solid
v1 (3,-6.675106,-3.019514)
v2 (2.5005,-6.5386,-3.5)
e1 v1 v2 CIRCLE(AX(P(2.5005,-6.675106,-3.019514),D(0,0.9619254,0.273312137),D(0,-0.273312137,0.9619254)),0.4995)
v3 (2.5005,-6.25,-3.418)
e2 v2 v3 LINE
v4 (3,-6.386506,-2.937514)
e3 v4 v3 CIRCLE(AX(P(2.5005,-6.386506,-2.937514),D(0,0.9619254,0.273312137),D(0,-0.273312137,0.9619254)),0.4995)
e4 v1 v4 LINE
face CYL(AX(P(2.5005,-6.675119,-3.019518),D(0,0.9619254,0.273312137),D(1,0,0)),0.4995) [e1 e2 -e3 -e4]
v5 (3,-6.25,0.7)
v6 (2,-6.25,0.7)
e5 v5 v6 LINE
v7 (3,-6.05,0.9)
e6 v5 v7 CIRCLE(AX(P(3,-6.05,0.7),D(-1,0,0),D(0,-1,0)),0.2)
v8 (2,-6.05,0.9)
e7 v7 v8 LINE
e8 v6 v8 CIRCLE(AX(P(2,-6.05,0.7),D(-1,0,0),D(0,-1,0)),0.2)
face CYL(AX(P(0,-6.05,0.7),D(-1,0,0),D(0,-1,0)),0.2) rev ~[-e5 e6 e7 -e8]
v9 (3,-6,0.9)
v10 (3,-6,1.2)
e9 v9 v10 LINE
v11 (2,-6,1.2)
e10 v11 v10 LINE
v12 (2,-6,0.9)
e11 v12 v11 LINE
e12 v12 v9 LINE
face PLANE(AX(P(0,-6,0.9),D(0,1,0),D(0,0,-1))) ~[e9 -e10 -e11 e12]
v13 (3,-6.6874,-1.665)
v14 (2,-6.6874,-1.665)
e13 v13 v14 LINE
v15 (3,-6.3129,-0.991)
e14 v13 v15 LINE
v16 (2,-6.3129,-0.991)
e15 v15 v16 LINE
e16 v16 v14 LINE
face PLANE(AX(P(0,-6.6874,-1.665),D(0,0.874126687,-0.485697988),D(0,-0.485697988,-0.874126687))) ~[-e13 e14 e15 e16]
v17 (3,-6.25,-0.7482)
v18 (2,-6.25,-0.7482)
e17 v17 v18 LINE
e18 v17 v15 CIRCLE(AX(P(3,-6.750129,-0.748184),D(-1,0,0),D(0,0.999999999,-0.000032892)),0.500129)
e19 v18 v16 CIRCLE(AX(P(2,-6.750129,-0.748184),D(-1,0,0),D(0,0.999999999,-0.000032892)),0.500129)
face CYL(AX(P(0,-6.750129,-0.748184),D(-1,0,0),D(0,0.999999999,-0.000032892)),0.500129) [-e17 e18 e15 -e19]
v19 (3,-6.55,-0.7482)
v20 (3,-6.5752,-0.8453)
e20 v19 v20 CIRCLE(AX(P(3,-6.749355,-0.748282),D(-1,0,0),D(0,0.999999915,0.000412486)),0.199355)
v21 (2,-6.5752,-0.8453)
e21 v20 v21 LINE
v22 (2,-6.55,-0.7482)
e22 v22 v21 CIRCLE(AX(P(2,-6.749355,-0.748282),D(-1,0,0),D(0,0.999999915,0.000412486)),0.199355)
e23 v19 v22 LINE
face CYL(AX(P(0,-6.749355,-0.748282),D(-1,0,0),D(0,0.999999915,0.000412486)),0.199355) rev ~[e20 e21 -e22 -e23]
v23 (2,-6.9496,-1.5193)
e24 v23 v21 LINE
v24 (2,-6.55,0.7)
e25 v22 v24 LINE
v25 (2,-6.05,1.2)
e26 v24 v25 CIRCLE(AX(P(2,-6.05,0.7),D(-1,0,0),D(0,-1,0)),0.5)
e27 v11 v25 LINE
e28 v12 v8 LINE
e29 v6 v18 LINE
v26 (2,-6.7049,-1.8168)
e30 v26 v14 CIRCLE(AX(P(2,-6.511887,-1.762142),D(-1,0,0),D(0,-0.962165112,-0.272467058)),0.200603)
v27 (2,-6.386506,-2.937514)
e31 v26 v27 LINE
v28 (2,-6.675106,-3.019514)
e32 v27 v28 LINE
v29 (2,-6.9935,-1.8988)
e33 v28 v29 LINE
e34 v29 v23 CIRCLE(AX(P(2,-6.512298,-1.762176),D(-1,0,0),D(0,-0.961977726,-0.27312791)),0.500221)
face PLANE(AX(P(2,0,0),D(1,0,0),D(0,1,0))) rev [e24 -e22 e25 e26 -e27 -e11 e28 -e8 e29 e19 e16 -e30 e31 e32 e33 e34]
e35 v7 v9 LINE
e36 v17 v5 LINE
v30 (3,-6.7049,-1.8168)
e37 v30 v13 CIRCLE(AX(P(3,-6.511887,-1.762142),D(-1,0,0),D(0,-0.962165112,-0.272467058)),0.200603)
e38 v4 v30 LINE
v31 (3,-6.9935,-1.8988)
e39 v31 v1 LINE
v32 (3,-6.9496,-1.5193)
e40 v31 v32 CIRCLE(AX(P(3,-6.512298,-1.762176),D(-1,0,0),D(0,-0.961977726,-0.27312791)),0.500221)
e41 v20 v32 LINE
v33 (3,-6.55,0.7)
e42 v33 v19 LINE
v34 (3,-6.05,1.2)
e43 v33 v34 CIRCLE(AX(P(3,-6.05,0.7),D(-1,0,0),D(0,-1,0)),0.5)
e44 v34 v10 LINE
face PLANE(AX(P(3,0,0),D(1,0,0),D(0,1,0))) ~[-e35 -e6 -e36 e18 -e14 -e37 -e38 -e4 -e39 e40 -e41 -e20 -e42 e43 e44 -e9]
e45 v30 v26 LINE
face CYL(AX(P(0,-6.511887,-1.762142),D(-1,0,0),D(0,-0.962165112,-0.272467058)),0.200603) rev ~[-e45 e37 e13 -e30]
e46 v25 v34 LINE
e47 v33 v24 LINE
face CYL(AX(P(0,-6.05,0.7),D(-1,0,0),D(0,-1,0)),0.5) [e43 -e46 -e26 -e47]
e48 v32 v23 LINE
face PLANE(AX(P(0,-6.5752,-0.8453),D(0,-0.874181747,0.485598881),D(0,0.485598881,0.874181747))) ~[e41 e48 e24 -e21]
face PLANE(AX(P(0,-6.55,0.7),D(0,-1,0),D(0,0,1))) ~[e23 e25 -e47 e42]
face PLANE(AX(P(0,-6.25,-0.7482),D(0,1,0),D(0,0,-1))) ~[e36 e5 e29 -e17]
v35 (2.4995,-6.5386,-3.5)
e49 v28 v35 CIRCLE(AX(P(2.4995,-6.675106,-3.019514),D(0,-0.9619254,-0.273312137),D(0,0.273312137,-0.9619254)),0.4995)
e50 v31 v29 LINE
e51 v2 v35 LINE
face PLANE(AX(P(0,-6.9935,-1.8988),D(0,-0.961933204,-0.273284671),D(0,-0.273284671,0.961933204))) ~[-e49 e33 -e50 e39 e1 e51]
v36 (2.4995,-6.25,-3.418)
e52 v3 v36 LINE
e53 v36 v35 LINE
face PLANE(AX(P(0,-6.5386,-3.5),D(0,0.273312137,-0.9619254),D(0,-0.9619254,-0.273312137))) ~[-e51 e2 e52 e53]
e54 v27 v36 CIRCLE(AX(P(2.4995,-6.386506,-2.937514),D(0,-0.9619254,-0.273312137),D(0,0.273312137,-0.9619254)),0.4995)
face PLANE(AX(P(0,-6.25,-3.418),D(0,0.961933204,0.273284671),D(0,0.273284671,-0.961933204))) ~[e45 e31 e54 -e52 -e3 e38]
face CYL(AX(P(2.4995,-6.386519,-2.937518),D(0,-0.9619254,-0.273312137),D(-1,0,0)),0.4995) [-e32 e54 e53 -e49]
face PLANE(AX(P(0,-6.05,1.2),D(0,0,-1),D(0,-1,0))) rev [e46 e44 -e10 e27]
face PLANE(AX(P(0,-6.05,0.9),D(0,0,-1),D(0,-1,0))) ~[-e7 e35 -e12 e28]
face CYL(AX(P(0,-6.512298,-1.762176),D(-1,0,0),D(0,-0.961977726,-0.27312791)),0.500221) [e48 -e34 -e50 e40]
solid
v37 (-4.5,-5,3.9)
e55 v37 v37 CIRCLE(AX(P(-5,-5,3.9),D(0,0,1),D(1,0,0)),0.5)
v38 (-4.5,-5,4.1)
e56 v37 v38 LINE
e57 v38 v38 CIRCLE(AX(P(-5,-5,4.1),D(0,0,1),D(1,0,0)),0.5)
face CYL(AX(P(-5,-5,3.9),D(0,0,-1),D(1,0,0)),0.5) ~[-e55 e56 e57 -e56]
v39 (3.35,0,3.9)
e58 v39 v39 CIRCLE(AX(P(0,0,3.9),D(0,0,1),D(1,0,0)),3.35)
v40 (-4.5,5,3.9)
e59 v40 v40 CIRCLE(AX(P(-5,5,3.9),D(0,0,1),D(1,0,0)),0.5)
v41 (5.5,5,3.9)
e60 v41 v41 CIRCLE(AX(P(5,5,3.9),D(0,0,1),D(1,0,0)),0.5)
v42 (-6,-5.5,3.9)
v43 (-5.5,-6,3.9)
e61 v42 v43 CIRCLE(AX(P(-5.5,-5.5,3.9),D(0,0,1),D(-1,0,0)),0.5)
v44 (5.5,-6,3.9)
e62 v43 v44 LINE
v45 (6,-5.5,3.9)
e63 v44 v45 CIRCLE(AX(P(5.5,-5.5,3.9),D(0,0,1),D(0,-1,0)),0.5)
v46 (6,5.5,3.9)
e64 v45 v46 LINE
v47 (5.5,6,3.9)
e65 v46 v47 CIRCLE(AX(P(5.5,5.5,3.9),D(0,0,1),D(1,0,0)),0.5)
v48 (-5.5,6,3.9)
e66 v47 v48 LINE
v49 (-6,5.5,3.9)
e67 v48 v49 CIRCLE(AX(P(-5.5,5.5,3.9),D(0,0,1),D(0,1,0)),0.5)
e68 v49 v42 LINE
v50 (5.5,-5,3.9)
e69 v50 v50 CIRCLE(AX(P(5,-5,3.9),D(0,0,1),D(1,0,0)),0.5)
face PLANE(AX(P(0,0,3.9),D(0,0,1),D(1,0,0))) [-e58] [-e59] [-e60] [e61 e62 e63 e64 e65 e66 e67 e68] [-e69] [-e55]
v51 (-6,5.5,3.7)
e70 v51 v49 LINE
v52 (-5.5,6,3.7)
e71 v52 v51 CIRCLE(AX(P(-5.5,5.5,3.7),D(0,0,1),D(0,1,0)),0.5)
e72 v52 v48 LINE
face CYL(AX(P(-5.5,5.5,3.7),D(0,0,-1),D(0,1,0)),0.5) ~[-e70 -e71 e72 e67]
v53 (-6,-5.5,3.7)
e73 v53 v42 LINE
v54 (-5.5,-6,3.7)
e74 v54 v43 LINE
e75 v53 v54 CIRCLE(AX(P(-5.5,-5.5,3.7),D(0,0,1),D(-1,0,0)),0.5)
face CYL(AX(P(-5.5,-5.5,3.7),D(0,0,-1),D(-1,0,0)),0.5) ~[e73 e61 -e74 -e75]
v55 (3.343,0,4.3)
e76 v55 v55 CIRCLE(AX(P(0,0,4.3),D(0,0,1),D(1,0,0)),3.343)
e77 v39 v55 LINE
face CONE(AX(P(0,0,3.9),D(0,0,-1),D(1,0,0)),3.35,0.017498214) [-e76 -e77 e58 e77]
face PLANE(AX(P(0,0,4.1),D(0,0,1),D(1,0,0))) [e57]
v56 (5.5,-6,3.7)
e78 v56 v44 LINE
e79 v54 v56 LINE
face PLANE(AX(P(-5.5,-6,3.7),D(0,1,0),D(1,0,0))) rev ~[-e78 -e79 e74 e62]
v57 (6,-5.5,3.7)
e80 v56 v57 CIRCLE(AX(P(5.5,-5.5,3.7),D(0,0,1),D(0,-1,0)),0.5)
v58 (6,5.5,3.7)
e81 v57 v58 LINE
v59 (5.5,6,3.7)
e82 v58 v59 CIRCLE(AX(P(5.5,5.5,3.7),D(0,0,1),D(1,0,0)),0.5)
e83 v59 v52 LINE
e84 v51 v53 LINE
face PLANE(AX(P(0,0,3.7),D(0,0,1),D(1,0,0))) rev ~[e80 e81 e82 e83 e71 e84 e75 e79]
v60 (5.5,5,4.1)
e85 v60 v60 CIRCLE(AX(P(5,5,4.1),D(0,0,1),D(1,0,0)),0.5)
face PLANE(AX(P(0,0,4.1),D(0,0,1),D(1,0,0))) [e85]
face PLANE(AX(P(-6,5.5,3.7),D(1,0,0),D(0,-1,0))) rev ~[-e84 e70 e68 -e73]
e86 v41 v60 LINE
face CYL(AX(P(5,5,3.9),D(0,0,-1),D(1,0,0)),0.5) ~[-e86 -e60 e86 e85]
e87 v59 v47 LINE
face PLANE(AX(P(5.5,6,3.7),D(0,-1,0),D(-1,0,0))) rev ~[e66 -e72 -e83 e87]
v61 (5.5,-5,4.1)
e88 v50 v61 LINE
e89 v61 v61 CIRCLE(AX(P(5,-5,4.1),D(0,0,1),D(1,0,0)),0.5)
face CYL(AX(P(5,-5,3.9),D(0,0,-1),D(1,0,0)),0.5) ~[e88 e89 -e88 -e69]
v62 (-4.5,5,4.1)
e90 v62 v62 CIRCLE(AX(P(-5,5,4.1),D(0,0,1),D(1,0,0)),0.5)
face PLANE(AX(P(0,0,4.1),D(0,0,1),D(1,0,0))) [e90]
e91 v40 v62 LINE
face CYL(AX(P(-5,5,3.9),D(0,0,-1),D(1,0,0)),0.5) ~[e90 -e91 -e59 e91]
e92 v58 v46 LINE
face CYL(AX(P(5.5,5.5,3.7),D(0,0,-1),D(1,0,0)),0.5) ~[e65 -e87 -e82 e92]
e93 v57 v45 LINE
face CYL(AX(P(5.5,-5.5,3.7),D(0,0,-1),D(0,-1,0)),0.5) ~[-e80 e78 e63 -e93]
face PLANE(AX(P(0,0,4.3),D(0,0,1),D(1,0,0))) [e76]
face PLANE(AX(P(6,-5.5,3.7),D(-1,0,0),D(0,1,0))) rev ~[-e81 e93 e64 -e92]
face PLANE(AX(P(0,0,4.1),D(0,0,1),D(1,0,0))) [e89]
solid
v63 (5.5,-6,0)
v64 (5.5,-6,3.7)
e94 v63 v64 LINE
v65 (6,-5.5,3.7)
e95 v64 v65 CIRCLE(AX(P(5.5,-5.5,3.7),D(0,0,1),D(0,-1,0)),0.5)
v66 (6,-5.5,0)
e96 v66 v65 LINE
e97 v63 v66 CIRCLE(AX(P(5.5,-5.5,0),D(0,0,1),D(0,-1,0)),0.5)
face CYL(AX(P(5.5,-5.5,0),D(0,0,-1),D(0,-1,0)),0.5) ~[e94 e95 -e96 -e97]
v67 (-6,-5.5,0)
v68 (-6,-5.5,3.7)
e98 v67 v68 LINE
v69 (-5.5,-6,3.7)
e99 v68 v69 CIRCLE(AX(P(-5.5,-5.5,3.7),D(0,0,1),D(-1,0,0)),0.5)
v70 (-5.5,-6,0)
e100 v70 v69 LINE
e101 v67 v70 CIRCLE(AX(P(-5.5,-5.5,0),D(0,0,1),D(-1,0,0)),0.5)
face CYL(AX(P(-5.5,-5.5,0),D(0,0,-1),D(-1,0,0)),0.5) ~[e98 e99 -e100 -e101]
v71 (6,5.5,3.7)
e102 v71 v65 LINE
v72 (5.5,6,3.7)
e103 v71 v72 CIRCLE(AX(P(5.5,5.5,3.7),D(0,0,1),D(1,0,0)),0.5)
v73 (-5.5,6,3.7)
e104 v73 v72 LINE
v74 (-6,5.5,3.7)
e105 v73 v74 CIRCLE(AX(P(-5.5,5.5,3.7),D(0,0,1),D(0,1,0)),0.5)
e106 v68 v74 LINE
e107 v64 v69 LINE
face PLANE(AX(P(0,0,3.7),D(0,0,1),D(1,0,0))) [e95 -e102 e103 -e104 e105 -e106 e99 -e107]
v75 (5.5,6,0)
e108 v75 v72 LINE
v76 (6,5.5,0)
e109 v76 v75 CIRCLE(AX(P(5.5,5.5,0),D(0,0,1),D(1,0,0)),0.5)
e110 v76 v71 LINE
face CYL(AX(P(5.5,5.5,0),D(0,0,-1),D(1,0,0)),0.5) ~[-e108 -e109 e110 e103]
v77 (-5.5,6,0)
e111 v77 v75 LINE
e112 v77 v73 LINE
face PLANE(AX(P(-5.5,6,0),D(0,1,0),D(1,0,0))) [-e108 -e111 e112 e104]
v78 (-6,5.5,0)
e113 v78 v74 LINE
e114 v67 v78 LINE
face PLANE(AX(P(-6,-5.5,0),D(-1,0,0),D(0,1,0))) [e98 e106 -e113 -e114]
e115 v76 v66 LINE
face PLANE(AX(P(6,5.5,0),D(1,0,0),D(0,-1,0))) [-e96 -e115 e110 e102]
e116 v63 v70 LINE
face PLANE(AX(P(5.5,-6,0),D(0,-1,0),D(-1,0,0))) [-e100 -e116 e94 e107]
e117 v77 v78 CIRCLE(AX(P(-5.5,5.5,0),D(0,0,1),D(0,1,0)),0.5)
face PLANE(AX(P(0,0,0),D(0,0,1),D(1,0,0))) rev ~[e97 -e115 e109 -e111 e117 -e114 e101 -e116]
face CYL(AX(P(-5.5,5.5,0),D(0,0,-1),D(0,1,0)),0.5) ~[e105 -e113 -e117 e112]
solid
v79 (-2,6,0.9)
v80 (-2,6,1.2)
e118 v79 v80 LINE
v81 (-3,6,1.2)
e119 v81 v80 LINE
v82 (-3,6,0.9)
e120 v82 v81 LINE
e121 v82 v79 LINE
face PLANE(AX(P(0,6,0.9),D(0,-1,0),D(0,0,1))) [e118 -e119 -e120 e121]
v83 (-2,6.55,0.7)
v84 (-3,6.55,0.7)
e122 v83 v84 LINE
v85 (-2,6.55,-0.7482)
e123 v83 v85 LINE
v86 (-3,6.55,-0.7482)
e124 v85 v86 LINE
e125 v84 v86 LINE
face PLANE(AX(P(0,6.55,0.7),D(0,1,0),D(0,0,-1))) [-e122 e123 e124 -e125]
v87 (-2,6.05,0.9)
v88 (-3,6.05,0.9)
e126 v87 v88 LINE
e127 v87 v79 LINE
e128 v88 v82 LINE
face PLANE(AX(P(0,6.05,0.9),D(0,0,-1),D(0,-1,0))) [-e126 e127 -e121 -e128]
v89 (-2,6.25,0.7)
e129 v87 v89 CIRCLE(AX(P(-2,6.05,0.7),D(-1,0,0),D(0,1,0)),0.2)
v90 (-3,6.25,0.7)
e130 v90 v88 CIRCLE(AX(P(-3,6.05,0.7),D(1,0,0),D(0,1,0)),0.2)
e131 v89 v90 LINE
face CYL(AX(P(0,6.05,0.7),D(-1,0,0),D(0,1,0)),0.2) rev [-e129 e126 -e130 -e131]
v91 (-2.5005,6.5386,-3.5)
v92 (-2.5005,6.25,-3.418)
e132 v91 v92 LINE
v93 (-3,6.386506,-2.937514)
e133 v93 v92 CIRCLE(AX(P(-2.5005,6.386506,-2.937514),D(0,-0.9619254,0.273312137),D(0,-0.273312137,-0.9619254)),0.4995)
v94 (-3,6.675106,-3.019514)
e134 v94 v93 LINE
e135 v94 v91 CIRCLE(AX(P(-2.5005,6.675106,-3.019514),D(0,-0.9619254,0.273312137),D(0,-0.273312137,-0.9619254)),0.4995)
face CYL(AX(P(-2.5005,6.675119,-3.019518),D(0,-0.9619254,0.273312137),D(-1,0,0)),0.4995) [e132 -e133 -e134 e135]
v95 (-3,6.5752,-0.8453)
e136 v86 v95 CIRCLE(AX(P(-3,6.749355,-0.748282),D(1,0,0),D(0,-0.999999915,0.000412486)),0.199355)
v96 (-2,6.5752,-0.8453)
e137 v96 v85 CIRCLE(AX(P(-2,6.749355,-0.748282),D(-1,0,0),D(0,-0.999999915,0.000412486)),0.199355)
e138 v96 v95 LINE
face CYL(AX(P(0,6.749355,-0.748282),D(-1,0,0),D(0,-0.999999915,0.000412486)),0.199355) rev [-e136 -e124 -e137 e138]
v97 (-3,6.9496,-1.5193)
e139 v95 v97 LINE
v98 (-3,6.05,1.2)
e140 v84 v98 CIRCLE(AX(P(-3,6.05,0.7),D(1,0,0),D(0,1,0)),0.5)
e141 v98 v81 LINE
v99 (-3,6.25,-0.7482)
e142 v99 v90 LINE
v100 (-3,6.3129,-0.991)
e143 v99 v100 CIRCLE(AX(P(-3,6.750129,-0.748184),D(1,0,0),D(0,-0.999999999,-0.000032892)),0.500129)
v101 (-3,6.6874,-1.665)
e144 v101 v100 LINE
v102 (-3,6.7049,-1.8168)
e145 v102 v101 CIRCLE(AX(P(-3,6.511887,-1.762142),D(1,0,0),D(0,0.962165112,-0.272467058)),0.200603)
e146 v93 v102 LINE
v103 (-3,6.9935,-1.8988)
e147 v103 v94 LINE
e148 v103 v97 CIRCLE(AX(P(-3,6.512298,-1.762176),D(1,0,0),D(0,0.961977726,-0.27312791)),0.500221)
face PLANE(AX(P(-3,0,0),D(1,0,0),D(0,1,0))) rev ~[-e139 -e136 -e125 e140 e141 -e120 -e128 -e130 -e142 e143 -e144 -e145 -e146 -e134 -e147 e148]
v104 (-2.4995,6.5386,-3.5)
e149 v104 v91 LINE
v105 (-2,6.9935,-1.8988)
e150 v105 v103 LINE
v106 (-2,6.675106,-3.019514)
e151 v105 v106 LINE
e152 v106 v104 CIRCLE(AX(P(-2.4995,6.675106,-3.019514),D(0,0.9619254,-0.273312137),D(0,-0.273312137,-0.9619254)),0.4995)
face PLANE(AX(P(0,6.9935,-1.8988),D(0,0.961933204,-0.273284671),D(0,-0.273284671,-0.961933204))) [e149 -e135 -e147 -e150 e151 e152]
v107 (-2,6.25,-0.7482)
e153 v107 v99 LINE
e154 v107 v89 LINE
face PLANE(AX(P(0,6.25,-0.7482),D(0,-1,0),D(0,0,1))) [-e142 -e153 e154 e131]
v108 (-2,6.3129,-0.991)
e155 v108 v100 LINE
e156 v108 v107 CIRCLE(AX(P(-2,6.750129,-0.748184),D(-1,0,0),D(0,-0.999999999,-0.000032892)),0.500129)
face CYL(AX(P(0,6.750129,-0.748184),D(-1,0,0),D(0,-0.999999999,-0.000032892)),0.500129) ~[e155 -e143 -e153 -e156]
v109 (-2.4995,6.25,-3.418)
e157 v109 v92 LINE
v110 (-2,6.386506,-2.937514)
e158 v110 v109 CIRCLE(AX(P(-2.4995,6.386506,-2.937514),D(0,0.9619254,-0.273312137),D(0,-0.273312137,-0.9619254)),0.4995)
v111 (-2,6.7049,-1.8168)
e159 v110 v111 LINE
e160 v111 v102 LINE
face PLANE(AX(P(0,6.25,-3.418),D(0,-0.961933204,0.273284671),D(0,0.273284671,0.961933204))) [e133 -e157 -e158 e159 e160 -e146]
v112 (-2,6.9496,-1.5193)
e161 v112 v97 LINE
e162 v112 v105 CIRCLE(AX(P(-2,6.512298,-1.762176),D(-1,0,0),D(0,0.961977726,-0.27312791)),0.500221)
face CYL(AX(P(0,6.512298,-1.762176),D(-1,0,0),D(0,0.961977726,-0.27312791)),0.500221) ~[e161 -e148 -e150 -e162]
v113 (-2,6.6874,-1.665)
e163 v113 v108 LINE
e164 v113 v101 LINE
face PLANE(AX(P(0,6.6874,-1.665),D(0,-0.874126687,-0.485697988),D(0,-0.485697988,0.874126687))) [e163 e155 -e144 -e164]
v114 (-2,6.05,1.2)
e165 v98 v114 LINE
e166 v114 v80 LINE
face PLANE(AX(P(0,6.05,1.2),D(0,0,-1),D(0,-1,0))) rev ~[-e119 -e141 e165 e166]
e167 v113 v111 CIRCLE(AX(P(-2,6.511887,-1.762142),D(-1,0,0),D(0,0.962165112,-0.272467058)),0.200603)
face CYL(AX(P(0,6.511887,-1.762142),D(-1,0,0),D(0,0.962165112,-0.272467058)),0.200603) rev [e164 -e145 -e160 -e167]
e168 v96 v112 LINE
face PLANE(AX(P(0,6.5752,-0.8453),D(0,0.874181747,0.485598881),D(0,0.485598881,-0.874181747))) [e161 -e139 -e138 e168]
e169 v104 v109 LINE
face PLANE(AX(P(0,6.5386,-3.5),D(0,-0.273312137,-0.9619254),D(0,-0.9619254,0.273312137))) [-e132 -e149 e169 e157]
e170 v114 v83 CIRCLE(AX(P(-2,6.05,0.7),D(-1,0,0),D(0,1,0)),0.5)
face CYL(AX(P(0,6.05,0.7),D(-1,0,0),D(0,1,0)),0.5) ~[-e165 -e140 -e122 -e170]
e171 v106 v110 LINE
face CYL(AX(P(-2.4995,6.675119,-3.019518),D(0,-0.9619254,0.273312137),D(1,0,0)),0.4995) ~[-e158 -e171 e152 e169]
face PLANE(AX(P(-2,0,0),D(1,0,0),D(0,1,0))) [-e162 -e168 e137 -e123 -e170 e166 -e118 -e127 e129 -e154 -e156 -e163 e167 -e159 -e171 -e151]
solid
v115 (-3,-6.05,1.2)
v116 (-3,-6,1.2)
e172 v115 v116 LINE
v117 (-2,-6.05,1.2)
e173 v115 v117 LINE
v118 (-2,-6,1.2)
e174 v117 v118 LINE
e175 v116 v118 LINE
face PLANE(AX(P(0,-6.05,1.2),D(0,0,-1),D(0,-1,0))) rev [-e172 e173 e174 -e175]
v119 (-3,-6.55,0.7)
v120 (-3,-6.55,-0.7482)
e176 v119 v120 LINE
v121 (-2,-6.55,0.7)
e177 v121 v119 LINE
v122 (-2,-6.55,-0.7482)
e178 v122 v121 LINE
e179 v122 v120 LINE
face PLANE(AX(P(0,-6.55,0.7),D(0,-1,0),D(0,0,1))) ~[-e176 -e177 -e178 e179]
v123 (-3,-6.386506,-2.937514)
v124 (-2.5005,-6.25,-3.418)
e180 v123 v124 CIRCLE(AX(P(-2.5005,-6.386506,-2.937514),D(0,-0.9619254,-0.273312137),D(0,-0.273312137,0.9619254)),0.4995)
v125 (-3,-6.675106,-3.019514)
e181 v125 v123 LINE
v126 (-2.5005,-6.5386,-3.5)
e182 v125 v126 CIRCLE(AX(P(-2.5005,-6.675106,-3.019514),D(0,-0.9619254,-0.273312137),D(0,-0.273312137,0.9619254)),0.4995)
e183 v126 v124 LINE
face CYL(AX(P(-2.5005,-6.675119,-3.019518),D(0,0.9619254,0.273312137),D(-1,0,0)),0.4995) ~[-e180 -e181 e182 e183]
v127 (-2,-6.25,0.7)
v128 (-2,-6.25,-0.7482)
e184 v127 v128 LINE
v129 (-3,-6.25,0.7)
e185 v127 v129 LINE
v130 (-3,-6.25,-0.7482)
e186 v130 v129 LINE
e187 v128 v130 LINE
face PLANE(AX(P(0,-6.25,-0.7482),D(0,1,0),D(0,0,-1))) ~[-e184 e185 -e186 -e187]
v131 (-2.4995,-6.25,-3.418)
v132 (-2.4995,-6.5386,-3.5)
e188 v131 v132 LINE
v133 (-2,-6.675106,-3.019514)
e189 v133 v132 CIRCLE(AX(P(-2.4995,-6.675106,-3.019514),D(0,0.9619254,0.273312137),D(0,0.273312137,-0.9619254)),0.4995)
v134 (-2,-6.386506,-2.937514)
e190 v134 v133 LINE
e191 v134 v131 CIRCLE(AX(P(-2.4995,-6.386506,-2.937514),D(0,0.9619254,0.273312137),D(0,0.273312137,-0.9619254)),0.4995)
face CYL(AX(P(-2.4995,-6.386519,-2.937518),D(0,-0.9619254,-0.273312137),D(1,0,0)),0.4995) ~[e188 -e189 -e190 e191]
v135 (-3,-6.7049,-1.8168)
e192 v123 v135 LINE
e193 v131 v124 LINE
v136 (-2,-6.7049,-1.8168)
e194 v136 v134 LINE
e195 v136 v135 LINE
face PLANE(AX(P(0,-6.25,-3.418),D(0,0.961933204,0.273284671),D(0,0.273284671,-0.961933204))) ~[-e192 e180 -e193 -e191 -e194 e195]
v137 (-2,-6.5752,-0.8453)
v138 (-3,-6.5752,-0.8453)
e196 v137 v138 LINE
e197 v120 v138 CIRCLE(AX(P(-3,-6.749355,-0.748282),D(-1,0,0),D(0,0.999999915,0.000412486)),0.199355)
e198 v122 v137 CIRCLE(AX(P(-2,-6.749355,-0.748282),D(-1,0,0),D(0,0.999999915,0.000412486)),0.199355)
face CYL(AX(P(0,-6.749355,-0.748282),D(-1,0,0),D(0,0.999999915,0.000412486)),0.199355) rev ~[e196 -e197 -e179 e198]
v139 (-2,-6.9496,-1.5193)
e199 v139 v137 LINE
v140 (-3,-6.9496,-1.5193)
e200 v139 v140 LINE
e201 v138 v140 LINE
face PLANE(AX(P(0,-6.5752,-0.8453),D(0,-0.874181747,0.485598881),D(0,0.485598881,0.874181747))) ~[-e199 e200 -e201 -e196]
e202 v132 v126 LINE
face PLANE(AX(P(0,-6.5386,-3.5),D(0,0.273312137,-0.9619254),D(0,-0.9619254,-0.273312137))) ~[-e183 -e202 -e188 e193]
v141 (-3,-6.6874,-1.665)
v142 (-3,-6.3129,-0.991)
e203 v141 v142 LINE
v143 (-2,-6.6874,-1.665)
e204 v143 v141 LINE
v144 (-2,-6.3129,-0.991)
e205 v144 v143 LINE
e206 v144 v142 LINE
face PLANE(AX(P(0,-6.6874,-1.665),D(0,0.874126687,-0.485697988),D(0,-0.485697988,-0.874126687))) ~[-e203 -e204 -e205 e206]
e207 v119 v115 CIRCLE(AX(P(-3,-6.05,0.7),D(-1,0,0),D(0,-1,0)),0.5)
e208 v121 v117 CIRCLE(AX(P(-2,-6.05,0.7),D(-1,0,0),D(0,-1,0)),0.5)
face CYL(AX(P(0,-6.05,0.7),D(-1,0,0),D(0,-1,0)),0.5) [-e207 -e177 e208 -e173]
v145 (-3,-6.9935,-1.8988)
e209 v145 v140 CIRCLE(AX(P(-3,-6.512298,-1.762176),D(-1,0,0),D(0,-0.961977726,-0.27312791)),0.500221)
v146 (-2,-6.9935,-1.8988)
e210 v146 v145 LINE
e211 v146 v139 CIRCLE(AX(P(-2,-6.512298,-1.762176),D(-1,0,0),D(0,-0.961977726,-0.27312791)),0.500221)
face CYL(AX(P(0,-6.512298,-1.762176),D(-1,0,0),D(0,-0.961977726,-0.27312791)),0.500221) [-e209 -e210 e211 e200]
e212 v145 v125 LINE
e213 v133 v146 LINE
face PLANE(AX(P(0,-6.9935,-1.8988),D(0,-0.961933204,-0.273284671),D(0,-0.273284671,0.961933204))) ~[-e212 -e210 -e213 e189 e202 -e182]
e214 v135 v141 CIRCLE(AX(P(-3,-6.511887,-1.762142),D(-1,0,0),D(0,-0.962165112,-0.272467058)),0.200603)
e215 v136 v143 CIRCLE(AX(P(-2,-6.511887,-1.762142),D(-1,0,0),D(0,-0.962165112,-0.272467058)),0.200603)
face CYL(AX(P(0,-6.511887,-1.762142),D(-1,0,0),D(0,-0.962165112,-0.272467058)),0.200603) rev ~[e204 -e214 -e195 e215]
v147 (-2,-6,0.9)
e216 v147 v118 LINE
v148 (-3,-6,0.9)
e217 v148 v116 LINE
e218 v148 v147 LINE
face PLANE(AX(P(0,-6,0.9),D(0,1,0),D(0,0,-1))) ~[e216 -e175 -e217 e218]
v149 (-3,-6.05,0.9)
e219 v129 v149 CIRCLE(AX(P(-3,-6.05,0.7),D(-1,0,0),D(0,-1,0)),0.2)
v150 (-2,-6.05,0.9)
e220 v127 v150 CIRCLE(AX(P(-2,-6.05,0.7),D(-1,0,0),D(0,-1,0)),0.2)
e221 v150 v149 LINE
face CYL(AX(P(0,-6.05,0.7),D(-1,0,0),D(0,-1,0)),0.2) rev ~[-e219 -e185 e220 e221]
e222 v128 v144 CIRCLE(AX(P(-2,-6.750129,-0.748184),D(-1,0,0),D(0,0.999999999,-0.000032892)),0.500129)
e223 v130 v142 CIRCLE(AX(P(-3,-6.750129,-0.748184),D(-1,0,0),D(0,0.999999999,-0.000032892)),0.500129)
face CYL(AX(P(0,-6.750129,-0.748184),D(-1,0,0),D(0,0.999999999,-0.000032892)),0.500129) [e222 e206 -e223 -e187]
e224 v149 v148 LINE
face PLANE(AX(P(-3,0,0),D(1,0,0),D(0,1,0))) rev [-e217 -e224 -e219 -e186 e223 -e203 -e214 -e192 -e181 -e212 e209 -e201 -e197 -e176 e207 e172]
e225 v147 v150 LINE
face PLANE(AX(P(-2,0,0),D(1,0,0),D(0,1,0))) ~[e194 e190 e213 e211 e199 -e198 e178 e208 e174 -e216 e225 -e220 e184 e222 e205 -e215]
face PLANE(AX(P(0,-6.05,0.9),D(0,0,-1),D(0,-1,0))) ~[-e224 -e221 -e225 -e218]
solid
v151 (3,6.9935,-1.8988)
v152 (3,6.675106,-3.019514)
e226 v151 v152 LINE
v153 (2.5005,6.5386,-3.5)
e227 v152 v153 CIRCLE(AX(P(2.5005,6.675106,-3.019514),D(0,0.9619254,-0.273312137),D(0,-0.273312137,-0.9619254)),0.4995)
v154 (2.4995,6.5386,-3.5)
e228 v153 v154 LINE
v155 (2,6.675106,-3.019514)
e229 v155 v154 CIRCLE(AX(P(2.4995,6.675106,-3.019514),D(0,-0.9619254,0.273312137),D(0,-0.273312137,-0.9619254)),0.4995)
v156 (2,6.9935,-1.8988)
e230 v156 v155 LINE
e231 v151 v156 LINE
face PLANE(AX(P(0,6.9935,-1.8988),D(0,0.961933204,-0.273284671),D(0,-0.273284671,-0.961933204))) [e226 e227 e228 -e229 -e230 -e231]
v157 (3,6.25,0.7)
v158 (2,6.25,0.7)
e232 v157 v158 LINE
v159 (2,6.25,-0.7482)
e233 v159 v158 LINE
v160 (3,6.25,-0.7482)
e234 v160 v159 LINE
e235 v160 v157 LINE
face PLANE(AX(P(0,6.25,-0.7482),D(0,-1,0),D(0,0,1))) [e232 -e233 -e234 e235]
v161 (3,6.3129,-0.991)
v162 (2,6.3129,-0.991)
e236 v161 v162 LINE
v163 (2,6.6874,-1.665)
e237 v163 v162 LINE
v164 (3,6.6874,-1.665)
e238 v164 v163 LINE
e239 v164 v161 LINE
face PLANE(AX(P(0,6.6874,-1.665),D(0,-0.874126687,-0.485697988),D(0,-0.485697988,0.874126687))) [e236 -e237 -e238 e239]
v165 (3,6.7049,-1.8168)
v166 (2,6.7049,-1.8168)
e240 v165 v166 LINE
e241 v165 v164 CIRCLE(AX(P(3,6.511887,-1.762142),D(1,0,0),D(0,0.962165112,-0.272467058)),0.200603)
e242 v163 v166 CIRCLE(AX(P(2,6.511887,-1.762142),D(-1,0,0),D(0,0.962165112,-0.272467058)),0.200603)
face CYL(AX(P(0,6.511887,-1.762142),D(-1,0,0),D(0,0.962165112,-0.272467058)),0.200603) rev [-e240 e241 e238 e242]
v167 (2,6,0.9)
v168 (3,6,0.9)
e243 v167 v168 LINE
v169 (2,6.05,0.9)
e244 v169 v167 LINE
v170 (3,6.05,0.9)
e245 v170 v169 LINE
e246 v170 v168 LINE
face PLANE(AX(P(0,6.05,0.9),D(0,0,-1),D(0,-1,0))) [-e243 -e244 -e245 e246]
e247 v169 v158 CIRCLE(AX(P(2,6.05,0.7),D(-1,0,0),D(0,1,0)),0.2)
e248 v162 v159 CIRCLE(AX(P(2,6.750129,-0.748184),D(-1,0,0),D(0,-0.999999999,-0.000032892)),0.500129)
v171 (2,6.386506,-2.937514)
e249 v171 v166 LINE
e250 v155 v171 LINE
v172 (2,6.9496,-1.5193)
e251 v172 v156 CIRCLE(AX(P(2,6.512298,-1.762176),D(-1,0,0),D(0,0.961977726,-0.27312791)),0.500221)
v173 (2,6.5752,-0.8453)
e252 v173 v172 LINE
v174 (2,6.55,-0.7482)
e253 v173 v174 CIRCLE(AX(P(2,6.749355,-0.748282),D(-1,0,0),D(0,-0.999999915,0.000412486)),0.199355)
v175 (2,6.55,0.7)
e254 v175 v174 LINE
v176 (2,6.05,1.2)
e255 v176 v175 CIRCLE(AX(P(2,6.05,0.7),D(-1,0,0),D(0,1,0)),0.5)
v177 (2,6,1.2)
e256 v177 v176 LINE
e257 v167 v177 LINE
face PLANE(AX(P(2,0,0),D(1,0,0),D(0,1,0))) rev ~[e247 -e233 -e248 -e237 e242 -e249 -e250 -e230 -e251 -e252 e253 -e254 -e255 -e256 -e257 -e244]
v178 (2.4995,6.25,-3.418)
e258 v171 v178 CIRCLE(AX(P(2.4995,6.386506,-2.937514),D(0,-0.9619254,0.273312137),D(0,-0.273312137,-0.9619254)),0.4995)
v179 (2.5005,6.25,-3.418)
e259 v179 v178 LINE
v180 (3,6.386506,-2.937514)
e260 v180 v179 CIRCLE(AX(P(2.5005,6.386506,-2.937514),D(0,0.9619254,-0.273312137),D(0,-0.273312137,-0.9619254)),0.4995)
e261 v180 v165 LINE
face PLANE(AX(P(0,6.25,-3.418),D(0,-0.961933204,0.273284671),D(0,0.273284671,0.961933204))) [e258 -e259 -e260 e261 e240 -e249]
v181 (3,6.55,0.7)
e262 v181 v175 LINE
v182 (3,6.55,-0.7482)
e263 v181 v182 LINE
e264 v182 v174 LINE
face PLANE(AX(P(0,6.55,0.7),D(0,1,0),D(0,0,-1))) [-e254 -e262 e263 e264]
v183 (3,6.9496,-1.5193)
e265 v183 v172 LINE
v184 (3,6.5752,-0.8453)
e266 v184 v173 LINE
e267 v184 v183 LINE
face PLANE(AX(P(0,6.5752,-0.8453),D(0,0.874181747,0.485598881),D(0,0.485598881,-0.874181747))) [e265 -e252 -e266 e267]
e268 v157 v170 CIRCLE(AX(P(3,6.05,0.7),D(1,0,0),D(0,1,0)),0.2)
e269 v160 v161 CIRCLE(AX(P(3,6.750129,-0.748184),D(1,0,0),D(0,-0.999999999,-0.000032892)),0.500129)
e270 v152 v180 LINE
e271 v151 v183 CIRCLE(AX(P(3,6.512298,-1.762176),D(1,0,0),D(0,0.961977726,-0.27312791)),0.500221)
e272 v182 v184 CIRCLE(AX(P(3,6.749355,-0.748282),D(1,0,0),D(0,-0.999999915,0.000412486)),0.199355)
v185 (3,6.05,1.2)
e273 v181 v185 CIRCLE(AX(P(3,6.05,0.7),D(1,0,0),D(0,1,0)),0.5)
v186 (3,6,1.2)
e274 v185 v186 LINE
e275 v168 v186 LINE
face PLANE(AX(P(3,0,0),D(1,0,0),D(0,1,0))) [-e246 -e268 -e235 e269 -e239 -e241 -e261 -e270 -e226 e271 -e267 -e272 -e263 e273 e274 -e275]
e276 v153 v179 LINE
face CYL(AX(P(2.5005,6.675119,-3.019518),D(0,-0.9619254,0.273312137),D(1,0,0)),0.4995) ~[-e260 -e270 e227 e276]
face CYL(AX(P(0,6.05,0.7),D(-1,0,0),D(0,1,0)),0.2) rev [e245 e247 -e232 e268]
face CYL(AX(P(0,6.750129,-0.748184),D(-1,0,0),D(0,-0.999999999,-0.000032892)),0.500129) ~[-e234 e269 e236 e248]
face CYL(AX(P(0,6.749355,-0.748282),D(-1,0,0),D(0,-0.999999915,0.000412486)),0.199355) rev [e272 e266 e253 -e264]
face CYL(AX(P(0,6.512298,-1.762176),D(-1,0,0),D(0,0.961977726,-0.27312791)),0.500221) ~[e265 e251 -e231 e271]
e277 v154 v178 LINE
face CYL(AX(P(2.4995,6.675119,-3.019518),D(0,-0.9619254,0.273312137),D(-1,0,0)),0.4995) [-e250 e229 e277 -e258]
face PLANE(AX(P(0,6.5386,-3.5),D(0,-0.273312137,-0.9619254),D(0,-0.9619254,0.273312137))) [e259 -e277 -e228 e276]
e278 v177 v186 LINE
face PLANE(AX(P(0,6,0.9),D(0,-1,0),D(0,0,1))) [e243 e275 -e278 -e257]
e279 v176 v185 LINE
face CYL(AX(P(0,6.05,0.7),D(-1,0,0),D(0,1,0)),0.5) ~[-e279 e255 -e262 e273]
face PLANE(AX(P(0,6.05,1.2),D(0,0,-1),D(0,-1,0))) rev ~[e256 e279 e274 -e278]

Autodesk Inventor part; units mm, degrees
ref_plane "YZ Plane" through (0, 0, 0) normal (1, 0, 0) x (0, 1, 0)
ref_plane "XZ Plane" through (0, 0, 0) normal (0, 1, 0) x (-1, 0, 0)
ref_plane "XY Plane" through (0, 0, 0) normal (0, 0, 1) x (1, 0, 0)
sketch "Boceto39" plane through (0, 0, 0) normal (0, 0, 1) x (1, 0, 0)
  line L0 (-5.5, 6) -> (5.5, 6)
  line L1 (6, 5.5) -> (6, -5.5)
  line L2 (5.5, -6) -> (-5.5, -6)
  line L3 (-6, -5.5) -> (-6, 5.5)
  arc A0 (6, 5.5) -> (5.5, 6) centre (5.5, 5.5) ccw
  arc A1 (-5.5, 6) -> (-6, 5.5) centre (-5.5, 5.5) ccw
  arc A2 (-6, -5.5) -> (-5.5, -6) centre (-5.5, -5.5) ccw
  arc A3 (5.5, -6) -> (6, -5.5) centre (5.5, -5.5) ccw
  point P0 (0, 0)
  point P1 (-6, 6)
  point P2 (6, -6)
  point P3 (6, 6)
  point P4 (-6, -6)
  point P5 (0, 6)
  point P6 (6, 0)
  dimension "d373" = 12
  dimension "d376" = 0.5
extrude "Extrusión13" add sketch "Boceto39" along normal blind 3.7
sketch "Boceto40" plane through (0, 0, 3.7) normal (0, 0, 1) x (1, 0, 0)
  line L0 (5.5, 6) -> (-5.5, 6) projected
  arc A0 (-5.5, 6) -> (-6, 5.5) centre (-5.5, 5.5) ccw projected
  line L1 (-6, 5.5) -> (-6, -5.5) projected
  arc A1 (-6, -5.5) -> (-5.5, -6) centre (-5.5, -5.5) ccw projected
  line L2 (-5.5, -6) -> (5.5, -6) projected
  arc A2 (5.5, -6) -> (6, -5.5) centre (5.5, -5.5) ccw projected
  line L3 (6, -5.5) -> (6, 5.5) projected
  arc A3 (6, 5.5) -> (5.5, 6) centre (5.5, 5.5) ccw projected
  point P0 (0, 0)
extrude "Extrusión14" add sketch "Boceto40" along normal blind 0.2 separate body
sketch "Boceto43" plane through (0, 0, 0) normal (1, 0, 0) x (0, 1, 0)
  line L0 (0, 0) -> (0, -3.6276) construction
  line L1 (6, 0) -> (6, 3.7) construction
  line L2 (6.05, 1.2) -> (6, 1.2)
  line L3 (5.5, 3.9) -> (-5.5, 3.9) projected
  line L4 (5.5, 0) -> (-5.5, 0) projected
  line L5 (6.55, 0.7) -> (6.55, -0.7482)
  line L6 (6.5752, -0.8453) -> (6.9496, -1.5193)
  line L7 (6.9935, -1.8988) -> (6.5386, -3.5)
  line L8 (6.5386, -3.5) -> (6.25, -3.418)
  line L9 (6.25, -3.418) -> (6.7049, -1.8168)
  line L10 (6.6874, -1.665) -> (6.3129, -0.991)
  line L11 (6.25, -0.7482) -> (6.25, 0.7)
  line L12 (6.05, 0.9) -> (6, 0.9)
  line L13 (6, 0.9) -> (6, 1.2)
  arc A0 (6.25, 0.7) -> (6.05, 0.9) centre (6.05, 0.7) ccw
  arc A1 (6.55, -0.7482) -> (6.5752, -0.8453) centre (6.75, -0.7482) ccw
  arc A2 (6.7049, -1.8168) -> (6.6874, -1.665) centre (6.5126, -1.7622) ccw
  arc A3 (6.55, 0.7) -> (6.05, 1.2) centre (6.05, 0.7) ccw
  arc A4 (6.25, -0.7482) -> (6.3129, -0.991) centre (6.75, -0.7482) ccw
  arc A5 (6.9935, -1.8988) -> (6.9496, -1.5193) centre (6.5126, -1.7622) ccw
  point P0 (6.55, 1.2)
  point P1 (6.55, -0.8)
  point P2 (7.05, -1.7)
  point P3 (6.25, -0.8777)
  dimension "d399" = 2.7
  dimension "d426" = 0.3
  dimension "d427" = 0.3
  dimension "d428" = 0.3
  dimension "d429" = 0.3
  dimension "d430" = 7.05
  dimension "d431" = 6.25
  dimension "d432" = 3.5
  dimension "d433" = 1.8
  dimension "d434" = 2
  dimension "d435" = 0.2
  dimension "d436" = 0.5
extrude "Extrusión15" add sketch "Boceto43" along normal mid plane 6 separate body
sketch "Boceto45" plane through (0, 0, 0) normal (1, 0, 0) x (0, 1, 0)
  line L0 (6, 1.2) -> (6.05, 1.2) projected
  line L1 (6, 1.2) -> (7.4698, 1.2)
  line L2 (7.4698, 1.2) -> (7.4698, -3.9971)
  line L3 (7.4698, -3.9971) -> (6, -3.9971)
  line L4 (6, -3.9971) -> (6, 1.2)
  point P0 (0, 0)
  point P1 (3.3, 0.8)
  point P2 (6.05, 1.2)
extrude "Extrusión17" cut sketch "Boceto45" along normal mid plane 4 bodies 3
fillet "Empalme44" radius 0.5 4 edges at (3, 6.3943, -3.459) (2, 6.3943, -3.459) (-2, 6.3943, -3.459) (-3, 6.3943, -3.459)
mirror "Simetría1" about plane through (0, 0, 0) normal (0, 1, 0) of "Extrusión15", "Extrusión17", "Empalme44" bodies 3
sketch "Boceto46" plane through (0, 0, 3.9) normal (0, 0, 1) x (1, 0, 0)
  line L0 (-5, -5) -> (5, -5) construction
  line L1 (5, -5) -> (5, 5) construction
  line L2 (5, 5) -> (-5, 5) construction
  line L3 (-5, 5) -> (-5, -5) construction
  circle A0 centre (-5, -5) radius 0.5
  circle A1 centre (-5, 5) radius 0.5
  circle A2 centre (5, 5) radius 0.5
  circle A3 centre (5, -5) radius 0.5
  point P0 (0, 0)
  point P1 (0, -5)
  point P2 (-5, 0)
  dimension "d417" = 1
  dimension "d418" = 10
extrude "Extrusión18" add sketch "Boceto46" along normal blind 0.2 bodies 2
sketch "Boceto48" plane through (0, 0, 0) normal (0, 1, 0) x (-1, 0, 0)
  line L0 (0, 0) -> (0, 17.1627)
  line L1 (-5.5, 3.9) -> (5.5, 3.9) construction
  line L2 (0, 3.9) -> (-3.35, 3.9)
  line L3 (-3.35, 3.9) -> (-3.343, 4.3)
  line L4 (-3.343, 4.3) -> (0, 4.3)
  line L5 (0, 4.3) -> (0, 3.9)
  line L6 (-5.5, 0) -> (5.5, 0) projected
  line L7 (-3.35, 3.9) -> (-3.35, 4.5675) construction
  dimension "d422" = 4.3
  dimension "d423" = 6.7
  dimension "d424" = 1
revolve "Revolución14" add sketch "Boceto48" angle 360 about axis through (0, 0, 0) along (0, 0, 1) bodies 2
properties part number "TACT-SWITCH-THT-12X12MM"
